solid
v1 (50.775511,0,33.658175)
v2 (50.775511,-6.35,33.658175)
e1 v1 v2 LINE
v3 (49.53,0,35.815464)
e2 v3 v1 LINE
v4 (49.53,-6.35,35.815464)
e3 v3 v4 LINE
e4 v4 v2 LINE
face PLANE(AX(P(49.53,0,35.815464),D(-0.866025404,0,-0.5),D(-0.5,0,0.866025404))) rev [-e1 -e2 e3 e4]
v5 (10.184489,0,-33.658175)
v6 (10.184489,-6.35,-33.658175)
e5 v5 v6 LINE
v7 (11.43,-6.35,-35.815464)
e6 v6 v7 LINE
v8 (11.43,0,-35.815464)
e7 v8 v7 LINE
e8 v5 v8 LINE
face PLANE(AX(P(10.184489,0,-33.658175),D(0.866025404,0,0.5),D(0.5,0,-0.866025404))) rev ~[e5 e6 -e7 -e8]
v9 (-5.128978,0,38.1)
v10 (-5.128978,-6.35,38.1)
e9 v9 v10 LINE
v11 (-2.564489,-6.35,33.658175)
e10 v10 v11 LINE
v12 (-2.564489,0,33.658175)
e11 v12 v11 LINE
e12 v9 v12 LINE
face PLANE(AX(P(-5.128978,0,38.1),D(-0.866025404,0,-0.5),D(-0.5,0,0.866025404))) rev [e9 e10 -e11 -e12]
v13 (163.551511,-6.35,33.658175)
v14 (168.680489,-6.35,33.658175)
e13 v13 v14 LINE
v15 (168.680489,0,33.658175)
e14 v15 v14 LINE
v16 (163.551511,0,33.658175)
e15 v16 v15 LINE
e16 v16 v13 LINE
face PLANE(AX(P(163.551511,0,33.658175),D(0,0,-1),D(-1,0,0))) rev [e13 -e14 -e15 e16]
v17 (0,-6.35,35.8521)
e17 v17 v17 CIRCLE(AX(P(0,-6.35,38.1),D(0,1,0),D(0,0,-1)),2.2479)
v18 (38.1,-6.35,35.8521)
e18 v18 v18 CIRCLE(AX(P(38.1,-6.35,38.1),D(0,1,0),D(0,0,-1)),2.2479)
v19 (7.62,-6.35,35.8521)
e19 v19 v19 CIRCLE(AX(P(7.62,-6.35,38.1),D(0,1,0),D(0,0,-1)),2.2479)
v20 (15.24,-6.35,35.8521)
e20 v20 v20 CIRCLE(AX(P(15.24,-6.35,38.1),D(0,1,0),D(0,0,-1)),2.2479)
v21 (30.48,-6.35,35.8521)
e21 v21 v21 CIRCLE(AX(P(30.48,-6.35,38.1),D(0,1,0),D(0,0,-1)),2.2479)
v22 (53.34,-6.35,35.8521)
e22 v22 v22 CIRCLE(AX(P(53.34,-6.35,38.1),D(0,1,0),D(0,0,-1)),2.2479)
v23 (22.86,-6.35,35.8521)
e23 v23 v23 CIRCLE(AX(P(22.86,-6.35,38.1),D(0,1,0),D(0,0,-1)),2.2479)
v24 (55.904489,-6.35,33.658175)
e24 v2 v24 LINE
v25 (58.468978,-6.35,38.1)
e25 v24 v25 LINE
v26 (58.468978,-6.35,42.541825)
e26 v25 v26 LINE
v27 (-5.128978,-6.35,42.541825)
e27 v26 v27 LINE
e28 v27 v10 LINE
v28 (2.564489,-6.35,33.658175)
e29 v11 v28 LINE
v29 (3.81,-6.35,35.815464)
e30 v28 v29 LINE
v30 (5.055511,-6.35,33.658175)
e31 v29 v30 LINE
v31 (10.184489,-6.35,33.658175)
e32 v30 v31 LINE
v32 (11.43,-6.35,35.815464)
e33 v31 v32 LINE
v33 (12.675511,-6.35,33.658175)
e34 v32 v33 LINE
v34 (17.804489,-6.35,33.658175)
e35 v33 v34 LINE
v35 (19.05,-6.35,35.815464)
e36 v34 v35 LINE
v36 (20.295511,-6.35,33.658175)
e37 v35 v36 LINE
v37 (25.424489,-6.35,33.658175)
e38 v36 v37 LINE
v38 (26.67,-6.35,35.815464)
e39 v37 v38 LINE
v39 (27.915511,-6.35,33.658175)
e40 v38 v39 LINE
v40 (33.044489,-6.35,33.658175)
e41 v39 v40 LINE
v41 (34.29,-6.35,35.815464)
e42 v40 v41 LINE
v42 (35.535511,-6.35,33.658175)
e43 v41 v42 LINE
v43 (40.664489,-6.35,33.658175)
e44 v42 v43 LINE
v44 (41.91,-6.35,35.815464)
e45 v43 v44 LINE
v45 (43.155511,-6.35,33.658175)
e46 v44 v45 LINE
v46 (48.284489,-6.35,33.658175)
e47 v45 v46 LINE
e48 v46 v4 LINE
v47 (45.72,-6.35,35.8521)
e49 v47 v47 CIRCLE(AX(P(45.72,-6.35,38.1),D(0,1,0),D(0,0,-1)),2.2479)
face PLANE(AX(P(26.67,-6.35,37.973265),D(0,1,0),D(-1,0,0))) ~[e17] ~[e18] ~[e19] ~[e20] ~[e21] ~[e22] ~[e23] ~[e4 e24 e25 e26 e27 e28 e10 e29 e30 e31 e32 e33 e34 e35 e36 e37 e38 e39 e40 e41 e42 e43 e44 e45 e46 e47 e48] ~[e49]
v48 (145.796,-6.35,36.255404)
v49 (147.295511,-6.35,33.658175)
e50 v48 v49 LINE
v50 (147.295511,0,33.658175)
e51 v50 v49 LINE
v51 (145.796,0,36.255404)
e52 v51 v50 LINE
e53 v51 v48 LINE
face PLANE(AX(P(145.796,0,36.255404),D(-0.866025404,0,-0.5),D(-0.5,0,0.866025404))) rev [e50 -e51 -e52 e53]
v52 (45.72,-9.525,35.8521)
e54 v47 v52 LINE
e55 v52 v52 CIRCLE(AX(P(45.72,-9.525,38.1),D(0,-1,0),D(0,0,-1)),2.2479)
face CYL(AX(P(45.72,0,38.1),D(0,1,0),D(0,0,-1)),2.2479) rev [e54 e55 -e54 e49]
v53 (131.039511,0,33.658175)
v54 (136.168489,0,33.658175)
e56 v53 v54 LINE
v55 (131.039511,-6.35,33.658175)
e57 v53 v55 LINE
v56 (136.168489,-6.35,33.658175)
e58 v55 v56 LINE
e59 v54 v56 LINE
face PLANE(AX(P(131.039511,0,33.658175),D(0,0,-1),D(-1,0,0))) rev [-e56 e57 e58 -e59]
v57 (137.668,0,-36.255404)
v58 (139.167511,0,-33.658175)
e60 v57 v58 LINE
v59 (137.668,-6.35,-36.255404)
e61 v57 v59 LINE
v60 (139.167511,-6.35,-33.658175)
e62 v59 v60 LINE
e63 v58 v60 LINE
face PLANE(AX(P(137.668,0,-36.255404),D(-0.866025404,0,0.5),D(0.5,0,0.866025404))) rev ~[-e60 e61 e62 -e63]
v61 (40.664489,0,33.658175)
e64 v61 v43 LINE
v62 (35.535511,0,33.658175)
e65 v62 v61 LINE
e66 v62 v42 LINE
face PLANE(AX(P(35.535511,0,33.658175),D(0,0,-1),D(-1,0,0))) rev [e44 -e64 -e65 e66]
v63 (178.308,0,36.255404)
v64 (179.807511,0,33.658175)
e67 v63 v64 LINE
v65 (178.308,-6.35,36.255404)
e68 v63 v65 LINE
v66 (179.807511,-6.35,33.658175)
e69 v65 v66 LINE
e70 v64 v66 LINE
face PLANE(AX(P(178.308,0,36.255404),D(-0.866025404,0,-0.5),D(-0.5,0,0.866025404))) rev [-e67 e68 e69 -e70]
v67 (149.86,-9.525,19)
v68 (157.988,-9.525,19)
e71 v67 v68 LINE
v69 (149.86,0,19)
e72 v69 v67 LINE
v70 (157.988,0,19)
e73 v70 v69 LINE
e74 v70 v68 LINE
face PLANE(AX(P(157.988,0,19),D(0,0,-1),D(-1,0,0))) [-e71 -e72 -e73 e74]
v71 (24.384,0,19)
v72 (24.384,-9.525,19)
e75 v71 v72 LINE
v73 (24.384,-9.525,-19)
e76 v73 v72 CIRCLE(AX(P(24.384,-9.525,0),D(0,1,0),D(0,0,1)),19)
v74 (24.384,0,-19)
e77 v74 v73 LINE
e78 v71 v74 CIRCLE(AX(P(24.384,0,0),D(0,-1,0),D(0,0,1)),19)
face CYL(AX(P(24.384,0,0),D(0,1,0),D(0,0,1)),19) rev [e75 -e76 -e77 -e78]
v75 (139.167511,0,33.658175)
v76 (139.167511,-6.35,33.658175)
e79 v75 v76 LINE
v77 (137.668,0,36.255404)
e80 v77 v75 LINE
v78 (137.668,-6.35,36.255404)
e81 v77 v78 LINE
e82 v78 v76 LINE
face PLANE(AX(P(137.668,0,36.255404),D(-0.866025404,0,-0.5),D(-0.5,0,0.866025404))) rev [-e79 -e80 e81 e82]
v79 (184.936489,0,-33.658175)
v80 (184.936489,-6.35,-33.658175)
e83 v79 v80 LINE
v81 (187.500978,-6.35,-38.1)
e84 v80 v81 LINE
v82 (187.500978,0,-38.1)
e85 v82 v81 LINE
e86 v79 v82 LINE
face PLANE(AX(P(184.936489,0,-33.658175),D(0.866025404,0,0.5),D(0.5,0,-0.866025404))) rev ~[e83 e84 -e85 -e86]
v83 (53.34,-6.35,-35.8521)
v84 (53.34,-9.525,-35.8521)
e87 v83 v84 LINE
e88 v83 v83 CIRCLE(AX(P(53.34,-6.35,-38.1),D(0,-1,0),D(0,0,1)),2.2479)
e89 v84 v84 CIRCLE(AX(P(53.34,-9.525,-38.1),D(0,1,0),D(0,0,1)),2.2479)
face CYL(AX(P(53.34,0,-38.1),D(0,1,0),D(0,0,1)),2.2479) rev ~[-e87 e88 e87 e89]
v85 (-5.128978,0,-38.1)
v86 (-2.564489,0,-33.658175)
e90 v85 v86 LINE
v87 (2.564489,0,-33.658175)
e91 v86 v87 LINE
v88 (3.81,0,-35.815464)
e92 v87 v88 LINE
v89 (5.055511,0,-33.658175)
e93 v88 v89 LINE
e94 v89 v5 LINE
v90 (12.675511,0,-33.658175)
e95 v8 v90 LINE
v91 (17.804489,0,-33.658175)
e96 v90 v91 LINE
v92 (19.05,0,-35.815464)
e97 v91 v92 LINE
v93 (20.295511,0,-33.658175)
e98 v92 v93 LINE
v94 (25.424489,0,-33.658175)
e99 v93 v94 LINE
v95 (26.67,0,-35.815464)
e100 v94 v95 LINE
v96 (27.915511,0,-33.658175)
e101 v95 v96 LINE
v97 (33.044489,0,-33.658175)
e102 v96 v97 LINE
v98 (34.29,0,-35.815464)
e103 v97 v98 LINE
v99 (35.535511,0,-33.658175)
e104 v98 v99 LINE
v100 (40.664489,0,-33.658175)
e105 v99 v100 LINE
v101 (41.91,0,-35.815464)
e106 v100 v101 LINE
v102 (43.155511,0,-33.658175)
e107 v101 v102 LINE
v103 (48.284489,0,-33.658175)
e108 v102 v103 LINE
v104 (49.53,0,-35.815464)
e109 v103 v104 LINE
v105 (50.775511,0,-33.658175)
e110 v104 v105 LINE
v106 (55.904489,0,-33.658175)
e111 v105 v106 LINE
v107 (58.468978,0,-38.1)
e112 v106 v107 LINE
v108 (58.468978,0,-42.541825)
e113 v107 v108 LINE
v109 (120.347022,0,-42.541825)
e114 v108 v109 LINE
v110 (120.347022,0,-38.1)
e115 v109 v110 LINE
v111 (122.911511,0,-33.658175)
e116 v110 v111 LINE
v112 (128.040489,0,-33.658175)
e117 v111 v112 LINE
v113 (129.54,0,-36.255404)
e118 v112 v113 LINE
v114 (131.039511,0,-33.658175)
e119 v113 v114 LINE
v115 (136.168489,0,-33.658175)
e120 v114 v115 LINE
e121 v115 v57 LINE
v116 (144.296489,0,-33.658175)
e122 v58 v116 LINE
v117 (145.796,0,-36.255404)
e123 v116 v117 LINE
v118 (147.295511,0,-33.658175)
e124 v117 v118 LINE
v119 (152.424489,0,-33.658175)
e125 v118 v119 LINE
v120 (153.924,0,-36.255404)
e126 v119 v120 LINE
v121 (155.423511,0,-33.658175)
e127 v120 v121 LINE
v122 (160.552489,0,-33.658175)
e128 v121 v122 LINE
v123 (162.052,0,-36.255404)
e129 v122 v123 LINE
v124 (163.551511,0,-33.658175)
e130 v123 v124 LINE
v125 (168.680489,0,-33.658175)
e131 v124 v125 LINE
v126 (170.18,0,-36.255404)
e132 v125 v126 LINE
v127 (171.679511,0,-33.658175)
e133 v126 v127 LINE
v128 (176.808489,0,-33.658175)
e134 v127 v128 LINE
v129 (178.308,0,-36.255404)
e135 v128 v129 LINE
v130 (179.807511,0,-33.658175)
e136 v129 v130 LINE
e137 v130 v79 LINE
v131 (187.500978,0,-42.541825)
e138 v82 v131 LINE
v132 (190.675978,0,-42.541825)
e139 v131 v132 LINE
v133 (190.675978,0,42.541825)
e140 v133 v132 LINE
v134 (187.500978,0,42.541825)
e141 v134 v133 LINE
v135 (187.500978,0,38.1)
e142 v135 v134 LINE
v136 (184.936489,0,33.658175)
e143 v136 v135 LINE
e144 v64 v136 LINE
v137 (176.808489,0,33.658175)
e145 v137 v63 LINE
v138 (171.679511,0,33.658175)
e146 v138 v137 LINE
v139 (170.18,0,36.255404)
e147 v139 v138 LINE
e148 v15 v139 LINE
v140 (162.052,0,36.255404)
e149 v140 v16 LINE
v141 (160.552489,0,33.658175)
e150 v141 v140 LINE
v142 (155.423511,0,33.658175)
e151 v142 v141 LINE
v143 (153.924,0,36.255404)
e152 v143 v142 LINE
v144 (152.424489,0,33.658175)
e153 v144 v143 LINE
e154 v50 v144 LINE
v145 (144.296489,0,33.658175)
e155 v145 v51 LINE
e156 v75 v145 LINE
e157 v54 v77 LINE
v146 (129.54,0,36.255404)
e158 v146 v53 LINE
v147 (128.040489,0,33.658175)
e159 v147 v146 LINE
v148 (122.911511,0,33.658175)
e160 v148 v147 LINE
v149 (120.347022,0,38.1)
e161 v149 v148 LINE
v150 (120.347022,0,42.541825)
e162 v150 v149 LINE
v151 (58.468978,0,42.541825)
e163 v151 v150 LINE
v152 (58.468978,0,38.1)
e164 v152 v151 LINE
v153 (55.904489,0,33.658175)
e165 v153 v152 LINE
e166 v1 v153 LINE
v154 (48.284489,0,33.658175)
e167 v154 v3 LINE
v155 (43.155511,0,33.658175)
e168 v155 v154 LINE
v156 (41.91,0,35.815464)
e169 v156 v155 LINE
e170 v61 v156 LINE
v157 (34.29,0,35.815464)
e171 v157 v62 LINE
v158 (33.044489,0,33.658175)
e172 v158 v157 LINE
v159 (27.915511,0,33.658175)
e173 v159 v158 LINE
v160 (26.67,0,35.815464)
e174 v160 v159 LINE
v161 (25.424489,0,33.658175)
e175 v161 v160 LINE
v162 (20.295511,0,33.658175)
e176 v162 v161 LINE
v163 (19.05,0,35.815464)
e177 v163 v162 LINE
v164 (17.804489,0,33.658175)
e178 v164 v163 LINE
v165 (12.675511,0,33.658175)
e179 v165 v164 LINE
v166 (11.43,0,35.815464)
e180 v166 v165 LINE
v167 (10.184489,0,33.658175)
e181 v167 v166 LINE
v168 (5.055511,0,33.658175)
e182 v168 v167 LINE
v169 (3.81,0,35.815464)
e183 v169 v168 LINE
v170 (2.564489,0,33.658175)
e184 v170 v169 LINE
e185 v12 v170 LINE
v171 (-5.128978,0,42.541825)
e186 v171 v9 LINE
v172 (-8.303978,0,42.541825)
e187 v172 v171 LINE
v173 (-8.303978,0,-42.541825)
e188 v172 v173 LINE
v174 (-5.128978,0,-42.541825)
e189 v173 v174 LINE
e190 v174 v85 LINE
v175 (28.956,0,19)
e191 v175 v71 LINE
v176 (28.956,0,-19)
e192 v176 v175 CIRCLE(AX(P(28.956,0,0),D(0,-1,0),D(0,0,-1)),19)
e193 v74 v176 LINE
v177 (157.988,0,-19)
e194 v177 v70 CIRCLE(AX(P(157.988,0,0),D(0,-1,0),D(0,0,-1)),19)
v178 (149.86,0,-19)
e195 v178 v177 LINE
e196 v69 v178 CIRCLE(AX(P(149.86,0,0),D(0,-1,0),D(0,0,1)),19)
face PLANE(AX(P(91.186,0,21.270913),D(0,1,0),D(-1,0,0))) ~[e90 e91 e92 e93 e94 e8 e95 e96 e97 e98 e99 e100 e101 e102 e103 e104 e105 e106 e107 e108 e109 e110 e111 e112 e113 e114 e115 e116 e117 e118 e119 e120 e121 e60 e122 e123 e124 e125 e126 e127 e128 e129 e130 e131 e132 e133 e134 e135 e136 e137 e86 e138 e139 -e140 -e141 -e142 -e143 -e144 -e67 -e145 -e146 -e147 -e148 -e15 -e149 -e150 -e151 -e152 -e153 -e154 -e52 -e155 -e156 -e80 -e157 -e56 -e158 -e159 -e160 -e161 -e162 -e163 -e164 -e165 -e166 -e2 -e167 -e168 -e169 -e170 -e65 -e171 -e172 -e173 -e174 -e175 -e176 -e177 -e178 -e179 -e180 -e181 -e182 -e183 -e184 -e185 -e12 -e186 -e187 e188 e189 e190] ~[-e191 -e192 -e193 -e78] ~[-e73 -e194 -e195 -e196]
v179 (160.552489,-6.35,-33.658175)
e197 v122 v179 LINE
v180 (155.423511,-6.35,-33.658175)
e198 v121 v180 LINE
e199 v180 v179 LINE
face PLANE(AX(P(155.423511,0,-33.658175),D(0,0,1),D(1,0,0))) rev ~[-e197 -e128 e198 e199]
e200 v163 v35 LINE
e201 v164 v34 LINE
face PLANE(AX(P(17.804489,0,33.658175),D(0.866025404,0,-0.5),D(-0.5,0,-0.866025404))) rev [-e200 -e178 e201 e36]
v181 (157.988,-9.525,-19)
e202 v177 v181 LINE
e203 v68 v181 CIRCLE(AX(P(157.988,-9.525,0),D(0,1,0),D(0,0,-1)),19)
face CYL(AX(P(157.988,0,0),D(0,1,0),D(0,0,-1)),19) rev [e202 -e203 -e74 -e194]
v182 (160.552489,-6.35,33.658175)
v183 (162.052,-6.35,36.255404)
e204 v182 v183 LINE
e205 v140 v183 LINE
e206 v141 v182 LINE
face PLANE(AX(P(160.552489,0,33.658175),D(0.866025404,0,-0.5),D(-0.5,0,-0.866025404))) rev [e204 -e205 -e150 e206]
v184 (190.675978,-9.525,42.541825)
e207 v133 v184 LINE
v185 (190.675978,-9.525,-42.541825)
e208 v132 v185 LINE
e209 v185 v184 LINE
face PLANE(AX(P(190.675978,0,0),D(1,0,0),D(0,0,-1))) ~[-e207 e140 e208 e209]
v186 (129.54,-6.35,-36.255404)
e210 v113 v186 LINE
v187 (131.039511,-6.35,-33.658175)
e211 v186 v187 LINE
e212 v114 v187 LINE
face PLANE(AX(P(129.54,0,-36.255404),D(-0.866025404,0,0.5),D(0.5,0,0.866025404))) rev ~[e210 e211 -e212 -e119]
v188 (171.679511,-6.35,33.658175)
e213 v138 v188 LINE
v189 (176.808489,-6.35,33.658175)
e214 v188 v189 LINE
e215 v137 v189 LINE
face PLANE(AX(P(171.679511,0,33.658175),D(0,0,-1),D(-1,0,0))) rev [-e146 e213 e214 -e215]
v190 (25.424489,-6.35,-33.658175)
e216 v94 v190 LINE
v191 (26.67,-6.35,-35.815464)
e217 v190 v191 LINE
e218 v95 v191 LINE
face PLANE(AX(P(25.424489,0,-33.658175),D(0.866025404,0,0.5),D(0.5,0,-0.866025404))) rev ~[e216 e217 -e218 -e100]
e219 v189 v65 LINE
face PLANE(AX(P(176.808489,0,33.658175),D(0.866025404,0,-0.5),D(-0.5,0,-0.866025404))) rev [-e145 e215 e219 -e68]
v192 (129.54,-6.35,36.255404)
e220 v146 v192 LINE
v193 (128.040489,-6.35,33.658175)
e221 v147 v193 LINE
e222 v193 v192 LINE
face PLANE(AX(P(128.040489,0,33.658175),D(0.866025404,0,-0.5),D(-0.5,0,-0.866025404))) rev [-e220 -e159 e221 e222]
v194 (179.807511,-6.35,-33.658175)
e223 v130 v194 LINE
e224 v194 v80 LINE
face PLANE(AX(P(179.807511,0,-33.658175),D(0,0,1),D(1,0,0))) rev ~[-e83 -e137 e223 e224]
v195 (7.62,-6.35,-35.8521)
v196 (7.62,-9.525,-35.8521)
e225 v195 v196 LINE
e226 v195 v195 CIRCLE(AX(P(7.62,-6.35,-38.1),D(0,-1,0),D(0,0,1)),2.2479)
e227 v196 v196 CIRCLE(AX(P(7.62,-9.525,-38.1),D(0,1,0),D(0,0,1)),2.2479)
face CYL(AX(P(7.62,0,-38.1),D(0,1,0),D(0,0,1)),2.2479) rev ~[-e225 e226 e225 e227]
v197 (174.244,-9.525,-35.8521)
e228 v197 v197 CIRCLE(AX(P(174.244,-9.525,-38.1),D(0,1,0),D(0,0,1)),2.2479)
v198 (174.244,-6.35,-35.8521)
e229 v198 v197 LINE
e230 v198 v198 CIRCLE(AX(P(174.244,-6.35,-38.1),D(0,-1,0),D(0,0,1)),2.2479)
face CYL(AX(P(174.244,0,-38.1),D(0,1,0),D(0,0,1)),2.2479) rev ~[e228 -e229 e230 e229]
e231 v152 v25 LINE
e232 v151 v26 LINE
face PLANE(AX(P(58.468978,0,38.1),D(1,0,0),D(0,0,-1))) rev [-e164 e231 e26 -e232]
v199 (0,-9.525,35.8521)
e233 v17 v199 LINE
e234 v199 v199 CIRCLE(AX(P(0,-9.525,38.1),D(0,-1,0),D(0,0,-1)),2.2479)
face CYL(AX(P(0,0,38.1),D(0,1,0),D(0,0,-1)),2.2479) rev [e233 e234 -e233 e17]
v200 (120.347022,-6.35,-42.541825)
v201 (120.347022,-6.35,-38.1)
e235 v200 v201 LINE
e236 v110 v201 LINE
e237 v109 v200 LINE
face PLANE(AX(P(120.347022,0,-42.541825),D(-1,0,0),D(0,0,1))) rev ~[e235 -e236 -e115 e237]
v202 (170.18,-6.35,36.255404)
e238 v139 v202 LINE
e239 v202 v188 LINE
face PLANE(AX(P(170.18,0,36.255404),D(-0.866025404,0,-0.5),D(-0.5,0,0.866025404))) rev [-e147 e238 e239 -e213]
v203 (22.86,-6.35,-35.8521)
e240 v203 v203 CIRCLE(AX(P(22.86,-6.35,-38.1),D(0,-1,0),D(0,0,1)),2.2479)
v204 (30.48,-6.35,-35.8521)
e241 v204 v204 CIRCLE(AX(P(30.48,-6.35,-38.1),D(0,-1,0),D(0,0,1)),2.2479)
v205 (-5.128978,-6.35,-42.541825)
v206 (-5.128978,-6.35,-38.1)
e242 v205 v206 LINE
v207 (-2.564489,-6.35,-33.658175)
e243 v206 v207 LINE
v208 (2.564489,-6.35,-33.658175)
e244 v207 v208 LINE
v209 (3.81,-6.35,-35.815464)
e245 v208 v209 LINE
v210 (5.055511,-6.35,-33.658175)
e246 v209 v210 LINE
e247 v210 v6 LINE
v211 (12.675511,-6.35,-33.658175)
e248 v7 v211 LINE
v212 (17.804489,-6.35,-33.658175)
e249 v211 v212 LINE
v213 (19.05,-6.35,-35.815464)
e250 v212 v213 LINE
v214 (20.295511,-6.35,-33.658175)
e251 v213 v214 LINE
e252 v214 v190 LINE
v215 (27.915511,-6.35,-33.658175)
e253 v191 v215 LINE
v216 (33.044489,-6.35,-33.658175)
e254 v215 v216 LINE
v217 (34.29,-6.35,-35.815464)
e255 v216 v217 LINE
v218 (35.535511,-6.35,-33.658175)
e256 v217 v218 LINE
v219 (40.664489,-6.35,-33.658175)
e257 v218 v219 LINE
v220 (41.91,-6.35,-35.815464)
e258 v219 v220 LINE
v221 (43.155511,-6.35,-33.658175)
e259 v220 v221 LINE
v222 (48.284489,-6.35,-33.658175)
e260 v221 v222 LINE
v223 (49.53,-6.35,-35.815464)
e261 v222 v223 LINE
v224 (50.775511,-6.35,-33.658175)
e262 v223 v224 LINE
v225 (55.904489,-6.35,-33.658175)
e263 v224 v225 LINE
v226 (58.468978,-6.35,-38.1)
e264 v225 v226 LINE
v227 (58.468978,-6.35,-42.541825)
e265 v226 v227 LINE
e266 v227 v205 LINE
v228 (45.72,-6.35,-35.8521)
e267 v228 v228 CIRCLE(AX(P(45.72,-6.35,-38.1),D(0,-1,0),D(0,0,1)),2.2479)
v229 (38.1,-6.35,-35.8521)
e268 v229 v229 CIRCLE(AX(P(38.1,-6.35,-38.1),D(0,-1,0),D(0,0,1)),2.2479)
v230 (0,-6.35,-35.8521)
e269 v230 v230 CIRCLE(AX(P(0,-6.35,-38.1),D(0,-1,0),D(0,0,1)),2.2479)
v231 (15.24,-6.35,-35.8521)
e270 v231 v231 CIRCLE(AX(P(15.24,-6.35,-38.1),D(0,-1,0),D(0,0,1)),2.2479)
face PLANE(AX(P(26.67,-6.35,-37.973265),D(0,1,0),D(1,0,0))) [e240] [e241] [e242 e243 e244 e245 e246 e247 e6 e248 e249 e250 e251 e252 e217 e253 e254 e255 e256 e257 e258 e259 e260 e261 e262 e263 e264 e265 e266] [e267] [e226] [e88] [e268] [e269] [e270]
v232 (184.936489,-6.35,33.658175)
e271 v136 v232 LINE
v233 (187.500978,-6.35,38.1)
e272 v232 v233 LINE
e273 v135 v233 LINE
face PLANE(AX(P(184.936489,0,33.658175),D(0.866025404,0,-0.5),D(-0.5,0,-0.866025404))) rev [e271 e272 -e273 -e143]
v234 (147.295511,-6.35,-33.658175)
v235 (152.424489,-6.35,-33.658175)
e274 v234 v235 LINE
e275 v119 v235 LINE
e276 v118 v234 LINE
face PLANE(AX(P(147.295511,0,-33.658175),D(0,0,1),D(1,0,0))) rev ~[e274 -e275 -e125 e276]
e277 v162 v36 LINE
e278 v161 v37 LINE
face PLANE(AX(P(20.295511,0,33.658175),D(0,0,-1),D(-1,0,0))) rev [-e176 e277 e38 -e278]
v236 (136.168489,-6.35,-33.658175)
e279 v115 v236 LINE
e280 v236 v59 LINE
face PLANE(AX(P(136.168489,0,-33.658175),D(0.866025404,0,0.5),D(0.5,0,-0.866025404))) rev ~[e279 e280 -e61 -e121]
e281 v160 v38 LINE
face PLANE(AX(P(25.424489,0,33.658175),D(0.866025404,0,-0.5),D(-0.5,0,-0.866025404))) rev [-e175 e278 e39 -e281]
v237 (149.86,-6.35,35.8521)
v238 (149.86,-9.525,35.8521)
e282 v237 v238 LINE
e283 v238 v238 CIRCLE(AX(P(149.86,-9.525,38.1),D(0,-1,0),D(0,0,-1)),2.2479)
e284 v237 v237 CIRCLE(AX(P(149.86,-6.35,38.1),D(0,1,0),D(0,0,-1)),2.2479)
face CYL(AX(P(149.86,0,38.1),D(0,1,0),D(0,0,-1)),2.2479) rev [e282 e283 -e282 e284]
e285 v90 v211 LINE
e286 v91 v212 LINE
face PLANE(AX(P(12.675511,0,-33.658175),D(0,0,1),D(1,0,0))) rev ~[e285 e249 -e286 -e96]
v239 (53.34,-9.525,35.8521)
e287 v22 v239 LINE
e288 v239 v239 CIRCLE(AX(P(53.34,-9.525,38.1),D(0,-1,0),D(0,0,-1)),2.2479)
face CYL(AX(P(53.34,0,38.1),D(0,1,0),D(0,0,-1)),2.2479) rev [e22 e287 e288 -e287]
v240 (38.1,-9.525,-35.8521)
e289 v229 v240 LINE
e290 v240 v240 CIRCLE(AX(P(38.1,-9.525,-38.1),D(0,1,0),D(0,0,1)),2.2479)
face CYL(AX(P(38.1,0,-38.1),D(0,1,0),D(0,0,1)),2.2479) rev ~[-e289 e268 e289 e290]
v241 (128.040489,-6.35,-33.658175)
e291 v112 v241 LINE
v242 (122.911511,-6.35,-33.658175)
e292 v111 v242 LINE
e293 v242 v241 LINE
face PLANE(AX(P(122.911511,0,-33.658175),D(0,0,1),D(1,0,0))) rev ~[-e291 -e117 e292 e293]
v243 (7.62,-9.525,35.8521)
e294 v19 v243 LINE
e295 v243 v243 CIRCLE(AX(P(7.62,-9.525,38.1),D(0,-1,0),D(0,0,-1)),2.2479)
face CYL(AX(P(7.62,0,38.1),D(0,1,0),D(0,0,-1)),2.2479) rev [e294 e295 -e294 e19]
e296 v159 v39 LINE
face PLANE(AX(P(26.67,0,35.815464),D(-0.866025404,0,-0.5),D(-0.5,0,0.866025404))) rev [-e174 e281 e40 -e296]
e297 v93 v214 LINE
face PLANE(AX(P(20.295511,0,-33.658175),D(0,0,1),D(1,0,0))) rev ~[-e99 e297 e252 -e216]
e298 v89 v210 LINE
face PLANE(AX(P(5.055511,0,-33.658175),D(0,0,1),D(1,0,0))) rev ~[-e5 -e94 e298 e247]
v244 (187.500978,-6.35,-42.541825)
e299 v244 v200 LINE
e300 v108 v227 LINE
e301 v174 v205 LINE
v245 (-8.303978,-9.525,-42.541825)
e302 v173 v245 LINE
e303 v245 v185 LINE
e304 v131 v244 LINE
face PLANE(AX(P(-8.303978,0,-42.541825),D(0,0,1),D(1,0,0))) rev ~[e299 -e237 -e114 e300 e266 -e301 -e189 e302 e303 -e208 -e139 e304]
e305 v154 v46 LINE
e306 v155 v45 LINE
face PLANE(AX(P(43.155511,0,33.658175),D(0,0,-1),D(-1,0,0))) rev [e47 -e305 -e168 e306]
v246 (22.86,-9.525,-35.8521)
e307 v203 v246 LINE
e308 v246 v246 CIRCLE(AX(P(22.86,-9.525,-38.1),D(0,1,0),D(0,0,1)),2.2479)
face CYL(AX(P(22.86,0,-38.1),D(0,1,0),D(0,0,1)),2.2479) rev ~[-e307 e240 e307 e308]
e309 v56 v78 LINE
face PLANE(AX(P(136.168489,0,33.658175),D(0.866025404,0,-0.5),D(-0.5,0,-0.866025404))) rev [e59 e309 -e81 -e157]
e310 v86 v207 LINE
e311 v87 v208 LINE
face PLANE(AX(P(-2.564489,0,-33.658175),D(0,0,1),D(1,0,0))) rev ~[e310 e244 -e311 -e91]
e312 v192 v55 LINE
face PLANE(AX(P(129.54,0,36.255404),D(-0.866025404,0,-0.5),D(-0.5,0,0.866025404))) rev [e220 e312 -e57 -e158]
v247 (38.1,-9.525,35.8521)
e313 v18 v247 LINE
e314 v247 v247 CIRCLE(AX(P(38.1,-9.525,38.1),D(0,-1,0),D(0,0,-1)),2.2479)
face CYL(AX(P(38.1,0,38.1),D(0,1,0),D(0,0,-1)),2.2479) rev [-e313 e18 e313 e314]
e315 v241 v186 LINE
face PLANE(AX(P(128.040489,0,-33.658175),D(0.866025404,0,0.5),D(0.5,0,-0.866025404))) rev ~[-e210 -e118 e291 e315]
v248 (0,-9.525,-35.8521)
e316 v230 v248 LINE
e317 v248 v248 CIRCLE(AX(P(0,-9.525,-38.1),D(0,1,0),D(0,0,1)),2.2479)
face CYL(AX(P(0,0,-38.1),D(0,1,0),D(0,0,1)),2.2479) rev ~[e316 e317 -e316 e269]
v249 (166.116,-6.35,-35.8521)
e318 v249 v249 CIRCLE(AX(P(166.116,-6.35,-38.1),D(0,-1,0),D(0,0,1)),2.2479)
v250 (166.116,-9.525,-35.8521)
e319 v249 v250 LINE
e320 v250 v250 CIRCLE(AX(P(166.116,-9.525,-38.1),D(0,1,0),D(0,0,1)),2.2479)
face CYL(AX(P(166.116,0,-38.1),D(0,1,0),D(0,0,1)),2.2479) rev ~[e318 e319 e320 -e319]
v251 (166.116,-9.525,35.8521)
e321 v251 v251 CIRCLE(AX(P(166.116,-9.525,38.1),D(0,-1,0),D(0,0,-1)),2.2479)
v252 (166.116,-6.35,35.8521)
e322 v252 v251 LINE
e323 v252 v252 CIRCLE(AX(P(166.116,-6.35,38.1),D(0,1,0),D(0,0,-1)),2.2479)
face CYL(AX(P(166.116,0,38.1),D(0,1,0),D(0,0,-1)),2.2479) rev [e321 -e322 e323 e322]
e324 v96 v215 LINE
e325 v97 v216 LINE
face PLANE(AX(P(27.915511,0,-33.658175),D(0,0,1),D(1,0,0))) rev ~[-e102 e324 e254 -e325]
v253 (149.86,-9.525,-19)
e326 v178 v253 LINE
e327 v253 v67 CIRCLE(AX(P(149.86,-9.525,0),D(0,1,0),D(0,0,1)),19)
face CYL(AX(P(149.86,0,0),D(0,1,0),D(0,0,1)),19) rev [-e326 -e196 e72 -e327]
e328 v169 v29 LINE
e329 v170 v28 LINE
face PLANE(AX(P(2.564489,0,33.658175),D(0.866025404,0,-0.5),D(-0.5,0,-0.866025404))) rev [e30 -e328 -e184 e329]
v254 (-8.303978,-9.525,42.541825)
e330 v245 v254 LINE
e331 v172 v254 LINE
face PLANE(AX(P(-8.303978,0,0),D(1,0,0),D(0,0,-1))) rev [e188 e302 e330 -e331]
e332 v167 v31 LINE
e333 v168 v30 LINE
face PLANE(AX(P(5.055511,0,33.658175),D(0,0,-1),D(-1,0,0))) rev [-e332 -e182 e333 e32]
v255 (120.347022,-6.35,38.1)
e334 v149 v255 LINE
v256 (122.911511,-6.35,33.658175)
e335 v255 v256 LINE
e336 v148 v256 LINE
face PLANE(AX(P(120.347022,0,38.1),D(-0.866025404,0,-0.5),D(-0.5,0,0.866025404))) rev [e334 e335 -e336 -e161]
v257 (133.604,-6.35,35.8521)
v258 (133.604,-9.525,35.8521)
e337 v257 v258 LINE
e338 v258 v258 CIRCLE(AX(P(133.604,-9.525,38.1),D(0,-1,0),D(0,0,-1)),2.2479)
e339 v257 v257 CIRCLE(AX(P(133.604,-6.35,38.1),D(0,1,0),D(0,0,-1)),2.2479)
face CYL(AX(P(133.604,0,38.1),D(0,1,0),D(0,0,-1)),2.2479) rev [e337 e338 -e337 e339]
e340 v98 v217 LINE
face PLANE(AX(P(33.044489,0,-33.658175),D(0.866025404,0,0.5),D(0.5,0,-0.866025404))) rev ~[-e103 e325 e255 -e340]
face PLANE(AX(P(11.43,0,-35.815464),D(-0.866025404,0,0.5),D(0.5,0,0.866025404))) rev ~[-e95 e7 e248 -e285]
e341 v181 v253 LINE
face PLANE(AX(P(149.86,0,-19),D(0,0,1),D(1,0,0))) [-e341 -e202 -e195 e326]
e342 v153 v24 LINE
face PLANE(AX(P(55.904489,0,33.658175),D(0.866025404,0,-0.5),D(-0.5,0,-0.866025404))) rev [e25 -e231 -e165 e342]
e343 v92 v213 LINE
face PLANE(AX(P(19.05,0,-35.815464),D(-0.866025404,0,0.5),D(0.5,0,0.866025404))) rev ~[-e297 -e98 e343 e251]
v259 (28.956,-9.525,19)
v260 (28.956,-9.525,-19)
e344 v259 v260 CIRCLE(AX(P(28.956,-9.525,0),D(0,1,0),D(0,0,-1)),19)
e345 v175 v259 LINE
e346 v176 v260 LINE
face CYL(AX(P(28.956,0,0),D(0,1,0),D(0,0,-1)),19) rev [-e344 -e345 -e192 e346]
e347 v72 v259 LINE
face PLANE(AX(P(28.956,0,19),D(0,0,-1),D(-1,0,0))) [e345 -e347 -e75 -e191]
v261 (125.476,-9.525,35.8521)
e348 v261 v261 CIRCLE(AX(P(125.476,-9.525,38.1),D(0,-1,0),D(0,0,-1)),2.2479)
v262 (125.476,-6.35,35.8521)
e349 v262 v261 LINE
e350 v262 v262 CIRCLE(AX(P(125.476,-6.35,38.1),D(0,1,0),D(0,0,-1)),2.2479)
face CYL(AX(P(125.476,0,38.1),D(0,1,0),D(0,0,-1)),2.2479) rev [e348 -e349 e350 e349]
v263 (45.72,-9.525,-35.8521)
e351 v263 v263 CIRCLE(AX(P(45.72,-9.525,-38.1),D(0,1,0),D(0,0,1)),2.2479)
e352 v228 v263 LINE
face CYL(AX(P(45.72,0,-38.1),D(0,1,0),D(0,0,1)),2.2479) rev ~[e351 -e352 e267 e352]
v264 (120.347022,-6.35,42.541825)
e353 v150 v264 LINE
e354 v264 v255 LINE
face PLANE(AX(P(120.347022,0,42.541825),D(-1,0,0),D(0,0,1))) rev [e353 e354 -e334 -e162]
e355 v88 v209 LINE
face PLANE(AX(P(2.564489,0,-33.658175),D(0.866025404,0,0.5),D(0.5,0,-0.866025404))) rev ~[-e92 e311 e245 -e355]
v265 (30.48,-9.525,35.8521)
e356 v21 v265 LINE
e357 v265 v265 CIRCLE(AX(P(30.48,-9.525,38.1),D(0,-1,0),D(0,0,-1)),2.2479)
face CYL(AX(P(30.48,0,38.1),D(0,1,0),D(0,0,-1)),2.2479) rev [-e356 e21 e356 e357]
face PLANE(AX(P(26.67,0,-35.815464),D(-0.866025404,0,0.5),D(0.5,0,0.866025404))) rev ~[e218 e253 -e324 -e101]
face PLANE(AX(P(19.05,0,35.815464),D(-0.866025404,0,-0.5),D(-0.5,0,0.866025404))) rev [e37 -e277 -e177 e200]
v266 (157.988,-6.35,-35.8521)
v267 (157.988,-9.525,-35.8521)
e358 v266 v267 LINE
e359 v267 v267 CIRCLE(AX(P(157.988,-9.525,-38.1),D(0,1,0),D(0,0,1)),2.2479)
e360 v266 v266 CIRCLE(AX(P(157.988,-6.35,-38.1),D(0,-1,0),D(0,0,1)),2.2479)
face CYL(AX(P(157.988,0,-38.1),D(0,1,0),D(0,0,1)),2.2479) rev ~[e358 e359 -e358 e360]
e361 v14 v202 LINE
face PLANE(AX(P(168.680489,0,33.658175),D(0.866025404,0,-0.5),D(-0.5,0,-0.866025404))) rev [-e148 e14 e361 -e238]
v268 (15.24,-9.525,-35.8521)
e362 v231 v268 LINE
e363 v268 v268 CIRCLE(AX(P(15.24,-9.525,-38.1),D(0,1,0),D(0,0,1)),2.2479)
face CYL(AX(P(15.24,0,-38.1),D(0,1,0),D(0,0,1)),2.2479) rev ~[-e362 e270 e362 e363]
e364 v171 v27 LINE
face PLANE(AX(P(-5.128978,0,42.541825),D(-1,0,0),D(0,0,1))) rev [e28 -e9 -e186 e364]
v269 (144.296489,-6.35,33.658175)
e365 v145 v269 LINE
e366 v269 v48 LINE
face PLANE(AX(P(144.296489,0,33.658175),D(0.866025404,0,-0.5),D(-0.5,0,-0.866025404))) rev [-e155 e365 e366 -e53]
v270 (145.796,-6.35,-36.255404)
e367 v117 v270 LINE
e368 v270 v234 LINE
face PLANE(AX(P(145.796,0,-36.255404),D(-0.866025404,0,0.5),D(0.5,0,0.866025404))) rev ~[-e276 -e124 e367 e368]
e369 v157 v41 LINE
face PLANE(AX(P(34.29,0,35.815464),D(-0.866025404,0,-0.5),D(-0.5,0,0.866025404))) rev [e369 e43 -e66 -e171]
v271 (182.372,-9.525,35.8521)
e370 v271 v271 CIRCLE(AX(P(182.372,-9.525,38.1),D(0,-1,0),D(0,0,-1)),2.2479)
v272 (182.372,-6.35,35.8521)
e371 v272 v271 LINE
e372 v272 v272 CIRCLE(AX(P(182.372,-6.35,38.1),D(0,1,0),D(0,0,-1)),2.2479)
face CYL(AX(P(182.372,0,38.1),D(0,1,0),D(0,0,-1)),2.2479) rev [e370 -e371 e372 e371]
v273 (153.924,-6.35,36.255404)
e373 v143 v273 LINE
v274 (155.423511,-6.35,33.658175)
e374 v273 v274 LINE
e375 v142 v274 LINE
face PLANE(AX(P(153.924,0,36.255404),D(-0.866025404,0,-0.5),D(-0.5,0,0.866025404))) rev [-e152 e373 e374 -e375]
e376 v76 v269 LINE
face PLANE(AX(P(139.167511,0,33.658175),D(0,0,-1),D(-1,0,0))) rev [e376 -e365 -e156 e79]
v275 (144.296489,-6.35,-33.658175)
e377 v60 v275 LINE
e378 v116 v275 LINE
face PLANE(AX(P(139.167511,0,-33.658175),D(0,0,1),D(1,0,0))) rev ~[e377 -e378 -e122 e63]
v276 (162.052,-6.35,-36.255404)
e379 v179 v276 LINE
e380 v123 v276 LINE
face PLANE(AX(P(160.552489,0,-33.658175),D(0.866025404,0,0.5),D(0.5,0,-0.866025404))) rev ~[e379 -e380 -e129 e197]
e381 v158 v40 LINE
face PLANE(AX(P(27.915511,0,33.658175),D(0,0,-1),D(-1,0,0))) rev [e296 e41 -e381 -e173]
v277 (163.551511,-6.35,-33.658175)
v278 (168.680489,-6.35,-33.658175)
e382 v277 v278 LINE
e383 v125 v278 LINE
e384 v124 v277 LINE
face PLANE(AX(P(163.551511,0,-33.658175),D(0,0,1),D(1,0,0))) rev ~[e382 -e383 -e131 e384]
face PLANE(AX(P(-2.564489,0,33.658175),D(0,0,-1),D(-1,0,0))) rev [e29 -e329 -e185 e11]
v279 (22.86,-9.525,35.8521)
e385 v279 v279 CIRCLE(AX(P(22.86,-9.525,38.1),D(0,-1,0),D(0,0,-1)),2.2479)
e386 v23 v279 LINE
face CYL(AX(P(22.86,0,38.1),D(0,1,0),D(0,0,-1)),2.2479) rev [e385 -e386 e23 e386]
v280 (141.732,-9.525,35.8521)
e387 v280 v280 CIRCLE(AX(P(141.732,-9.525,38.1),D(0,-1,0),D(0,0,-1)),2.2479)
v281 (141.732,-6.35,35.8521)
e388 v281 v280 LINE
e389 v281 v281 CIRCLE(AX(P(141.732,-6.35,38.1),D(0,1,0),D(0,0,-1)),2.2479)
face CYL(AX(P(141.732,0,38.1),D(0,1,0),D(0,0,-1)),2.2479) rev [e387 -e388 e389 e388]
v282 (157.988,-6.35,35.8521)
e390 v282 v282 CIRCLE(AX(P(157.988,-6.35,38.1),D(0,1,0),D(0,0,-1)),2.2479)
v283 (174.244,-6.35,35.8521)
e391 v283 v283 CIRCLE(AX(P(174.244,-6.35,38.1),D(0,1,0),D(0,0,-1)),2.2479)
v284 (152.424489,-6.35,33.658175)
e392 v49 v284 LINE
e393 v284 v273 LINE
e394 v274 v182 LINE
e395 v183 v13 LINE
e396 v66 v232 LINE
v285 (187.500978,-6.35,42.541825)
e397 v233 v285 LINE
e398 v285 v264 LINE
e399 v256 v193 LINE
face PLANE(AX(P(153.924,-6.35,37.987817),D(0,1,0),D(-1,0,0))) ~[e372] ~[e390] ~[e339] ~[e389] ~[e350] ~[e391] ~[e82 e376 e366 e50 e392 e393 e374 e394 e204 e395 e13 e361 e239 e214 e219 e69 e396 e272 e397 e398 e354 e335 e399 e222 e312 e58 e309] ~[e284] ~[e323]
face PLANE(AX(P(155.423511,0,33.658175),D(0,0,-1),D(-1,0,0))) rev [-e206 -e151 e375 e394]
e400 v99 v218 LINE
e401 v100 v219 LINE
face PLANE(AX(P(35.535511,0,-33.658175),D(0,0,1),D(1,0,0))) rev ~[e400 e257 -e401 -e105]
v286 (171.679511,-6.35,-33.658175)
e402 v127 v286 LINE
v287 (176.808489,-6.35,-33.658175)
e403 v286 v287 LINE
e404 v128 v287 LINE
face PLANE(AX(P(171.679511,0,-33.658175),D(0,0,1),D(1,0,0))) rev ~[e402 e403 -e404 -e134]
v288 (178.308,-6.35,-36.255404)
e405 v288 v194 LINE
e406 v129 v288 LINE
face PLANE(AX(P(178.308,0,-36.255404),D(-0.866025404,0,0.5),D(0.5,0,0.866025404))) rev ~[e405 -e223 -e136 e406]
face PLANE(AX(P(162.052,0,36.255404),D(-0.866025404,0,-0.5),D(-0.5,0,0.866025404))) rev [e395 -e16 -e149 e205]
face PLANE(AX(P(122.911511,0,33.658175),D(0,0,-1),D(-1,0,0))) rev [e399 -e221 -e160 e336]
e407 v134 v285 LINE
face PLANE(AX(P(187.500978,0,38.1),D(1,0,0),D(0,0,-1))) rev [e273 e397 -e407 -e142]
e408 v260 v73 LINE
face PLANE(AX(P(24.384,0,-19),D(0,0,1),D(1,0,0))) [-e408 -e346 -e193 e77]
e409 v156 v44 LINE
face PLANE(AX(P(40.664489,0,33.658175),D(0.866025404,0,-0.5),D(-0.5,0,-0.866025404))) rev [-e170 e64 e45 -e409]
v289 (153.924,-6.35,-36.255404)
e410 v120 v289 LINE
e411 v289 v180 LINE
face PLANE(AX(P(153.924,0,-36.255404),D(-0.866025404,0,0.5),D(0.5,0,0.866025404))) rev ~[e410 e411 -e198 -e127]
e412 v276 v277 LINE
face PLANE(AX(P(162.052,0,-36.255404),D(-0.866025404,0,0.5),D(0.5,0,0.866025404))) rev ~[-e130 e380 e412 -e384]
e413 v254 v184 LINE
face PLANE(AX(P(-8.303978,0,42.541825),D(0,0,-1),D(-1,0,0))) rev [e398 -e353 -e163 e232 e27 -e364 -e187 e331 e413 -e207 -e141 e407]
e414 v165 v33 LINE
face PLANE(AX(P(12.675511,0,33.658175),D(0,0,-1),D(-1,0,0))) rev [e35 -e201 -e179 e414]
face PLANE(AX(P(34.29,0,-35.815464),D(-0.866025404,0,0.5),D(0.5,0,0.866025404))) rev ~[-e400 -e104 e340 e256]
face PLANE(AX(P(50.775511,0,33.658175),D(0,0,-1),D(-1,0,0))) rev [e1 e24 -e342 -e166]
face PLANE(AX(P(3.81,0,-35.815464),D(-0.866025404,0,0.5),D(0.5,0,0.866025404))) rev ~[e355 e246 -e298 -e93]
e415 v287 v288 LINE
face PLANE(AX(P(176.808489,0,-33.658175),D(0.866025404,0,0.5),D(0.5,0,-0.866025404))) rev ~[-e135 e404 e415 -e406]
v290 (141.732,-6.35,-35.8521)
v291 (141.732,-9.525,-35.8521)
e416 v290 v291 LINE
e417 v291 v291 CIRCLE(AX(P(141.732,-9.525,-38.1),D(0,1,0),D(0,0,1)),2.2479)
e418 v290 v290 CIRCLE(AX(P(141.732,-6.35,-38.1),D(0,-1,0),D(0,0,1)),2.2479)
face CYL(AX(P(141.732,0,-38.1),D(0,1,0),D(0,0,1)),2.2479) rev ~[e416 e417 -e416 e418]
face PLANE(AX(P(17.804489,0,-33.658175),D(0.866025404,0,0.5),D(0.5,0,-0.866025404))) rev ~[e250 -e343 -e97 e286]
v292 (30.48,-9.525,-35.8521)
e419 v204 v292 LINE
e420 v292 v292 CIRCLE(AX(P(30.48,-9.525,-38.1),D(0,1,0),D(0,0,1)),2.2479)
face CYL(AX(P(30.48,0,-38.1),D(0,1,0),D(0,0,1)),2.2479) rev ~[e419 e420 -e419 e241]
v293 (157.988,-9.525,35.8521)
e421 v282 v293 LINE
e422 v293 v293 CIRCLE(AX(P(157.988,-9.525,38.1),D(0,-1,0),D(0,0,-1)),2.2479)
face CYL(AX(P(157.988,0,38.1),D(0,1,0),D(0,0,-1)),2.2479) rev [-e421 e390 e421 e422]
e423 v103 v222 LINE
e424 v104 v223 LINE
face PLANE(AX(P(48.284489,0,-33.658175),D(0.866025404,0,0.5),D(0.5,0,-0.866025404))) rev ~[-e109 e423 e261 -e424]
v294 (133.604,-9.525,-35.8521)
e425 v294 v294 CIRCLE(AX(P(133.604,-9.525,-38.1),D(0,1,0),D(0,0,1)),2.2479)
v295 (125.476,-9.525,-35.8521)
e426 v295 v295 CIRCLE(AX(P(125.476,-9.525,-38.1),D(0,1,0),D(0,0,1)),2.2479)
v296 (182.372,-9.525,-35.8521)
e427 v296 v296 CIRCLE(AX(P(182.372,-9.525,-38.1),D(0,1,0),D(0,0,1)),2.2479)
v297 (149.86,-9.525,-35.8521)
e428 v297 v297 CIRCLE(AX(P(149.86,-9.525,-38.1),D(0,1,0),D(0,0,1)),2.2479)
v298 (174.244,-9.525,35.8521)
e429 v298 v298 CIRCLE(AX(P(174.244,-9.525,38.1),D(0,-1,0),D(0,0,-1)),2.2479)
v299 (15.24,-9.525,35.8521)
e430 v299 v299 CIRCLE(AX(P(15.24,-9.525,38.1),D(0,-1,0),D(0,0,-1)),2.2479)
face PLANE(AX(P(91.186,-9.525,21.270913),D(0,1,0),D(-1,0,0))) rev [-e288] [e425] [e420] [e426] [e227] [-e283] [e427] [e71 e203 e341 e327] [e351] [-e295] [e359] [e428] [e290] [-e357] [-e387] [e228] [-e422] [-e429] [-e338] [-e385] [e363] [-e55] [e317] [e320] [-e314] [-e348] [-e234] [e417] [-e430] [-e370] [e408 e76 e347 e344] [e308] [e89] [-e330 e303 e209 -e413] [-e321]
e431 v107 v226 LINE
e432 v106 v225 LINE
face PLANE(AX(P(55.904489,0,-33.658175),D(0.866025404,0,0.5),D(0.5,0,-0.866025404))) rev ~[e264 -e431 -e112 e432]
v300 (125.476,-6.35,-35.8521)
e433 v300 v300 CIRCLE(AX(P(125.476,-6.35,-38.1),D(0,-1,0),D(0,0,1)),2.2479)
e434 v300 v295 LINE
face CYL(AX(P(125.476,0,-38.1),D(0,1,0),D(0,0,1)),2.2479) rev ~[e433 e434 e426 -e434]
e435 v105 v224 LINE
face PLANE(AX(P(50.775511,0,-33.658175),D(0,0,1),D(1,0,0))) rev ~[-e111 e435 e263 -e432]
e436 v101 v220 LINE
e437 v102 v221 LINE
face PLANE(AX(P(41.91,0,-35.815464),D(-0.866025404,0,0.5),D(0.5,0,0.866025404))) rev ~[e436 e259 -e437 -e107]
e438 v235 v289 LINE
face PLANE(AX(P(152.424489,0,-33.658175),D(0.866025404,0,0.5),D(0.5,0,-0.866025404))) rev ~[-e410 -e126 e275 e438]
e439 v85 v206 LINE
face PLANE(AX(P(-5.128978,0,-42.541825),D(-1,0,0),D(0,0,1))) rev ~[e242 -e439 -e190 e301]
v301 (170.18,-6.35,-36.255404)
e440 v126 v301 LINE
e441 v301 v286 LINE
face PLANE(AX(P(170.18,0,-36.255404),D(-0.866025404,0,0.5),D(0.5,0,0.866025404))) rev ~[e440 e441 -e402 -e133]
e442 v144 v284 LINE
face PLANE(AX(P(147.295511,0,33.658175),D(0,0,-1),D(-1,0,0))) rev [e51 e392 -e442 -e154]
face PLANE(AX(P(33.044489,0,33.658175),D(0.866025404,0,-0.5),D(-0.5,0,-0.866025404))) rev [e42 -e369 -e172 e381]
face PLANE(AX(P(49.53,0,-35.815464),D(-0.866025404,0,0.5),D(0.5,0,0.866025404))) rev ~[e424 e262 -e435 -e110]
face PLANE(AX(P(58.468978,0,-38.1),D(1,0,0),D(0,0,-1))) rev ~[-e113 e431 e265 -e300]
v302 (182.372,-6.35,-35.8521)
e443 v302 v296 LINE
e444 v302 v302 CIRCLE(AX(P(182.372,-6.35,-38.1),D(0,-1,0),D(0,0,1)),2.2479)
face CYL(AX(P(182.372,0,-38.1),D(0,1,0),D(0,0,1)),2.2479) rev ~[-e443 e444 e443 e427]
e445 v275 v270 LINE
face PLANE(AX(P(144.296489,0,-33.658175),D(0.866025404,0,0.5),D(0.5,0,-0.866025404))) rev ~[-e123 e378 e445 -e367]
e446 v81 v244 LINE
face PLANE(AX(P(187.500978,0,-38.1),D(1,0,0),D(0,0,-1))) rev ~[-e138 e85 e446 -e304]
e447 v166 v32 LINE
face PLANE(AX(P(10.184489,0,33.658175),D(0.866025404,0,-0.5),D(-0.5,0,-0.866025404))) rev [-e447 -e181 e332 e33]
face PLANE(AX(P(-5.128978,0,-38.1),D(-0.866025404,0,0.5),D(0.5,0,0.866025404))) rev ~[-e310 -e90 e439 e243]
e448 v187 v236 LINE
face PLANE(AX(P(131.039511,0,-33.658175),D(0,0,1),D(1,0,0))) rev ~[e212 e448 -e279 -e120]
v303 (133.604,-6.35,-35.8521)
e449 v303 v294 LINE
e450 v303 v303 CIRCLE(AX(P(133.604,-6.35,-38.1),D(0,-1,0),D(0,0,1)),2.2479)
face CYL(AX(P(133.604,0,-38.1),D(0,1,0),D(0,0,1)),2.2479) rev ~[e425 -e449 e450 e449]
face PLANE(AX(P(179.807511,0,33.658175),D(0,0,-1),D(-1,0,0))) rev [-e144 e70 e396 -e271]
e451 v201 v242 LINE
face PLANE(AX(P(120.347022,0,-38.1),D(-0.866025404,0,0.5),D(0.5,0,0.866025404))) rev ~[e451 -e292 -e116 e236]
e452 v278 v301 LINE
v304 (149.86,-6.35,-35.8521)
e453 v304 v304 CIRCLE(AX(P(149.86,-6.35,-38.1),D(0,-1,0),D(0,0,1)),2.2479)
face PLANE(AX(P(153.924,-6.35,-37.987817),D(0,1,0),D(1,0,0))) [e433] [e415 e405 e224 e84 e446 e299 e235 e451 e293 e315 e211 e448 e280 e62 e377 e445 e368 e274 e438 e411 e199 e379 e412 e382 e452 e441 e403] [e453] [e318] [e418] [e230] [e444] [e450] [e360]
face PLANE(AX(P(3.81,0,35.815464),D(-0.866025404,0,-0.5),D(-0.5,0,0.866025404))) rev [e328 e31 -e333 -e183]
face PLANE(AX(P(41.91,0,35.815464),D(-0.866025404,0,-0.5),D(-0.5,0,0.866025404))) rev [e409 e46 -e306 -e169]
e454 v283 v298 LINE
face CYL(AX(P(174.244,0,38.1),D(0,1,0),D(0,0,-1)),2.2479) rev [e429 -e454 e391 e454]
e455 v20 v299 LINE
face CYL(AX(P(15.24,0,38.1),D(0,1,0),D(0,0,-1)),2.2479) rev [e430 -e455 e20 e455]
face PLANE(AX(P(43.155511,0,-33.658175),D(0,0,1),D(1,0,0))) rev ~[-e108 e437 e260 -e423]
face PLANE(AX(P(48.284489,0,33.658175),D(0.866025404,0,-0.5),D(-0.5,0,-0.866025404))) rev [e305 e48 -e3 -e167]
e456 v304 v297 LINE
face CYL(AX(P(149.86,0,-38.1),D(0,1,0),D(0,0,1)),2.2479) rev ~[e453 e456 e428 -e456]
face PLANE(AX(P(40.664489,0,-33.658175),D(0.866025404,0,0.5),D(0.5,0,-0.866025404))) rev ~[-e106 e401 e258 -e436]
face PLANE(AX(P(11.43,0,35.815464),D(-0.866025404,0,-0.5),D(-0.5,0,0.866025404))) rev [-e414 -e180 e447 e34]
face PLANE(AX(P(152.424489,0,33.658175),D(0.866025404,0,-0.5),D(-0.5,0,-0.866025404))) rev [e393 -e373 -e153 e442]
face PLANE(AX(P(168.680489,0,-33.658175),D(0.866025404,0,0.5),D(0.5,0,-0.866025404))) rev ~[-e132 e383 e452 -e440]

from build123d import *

# Parameters (mm, degrees)
SKETCH1_W           = 198.979955438
SKETCH1_H           = 42.541825
SKETCH1_R           = 2.2479
BOSS_EXTRUDE1_DEPTH = 9.525
SKETCH1_5_R         = 2.2479
CUT_EXTRUDE1_DEPTH  = 6.35
CUT_EXTRUDE2_DEPTH  = 196.596168108


with BuildPart() as part:
    # Sketch1 → Boss-Extrude1 (new body)
    with BuildSketch(Plane(origin=(0, 0, 0), x_dir=(1, 0, 0), z_dir=(0, 1, 0))):
        with Locations((91.186, 21.2709125)):
            Rectangle(SKETCH1_W, SKETCH1_H)
        with Locations(Location((45.72, 38.1, 0), (0, 0, 270))):
            Circle(SKETCH1_R, mode=Mode.SUBTRACT)
        with Locations(Location((38.1, 38.1, 0), (0, 0, 270))):
            Circle(SKETCH1_R, mode=Mode.SUBTRACT)
        with Locations(Location((30.48, 38.1, 0), (0, 0, 270))):
            Circle(SKETCH1_R, mode=Mode.SUBTRACT)
        with Locations(Location((22.86, 38.1, 0), (0, 0, 270))):
            Circle(SKETCH1_R, mode=Mode.SUBTRACT)
        with Locations(Location((15.24, 38.1, 0), (0, 0, 270))):
            Circle(SKETCH1_R, mode=Mode.SUBTRACT)
        with Locations(Location((7.62, 38.1, 0), (0, 0, 270))):
            Circle(SKETCH1_R, mode=Mode.SUBTRACT)
        with Locations(Location((0, 38.1, 0), (0, 0, 270))):
            Circle(SKETCH1_R, mode=Mode.SUBTRACT)
        with Locations(Location((53.34, 38.1, 0), (0, 0, 270))):
            Circle(SKETCH1_R, mode=Mode.SUBTRACT)
        with Locations(Location((157.988, 38.1, 0), (0, 0, 270))):
            Circle(SKETCH1_R, mode=Mode.SUBTRACT)
        with Locations(Location((149.86, 38.1, 0), (0, 0, 270))):
            Circle(SKETCH1_R, mode=Mode.SUBTRACT)
        with Locations(Location((141.732, 38.1, 0), (0, 0, 270))):
            Circle(SKETCH1_R, mode=Mode.SUBTRACT)
        with Locations(Location((133.604, 38.1, 0), (0, 0, 270))):
            Circle(SKETCH1_R, mode=Mode.SUBTRACT)
        with Locations(Location((125.476, 38.1, 0), (0, 0, 270))):
            Circle(SKETCH1_R, mode=Mode.SUBTRACT)
        with Locations(Location((166.116, 38.1, 0), (0, 0, 270))):
            Circle(SKETCH1_R, mode=Mode.SUBTRACT)
        with Locations(Location((174.244, 38.1, 0), (0, 0, 270))):
            Circle(SKETCH1_R, mode=Mode.SUBTRACT)
        with Locations(Location((182.372, 38.1, 0), (0, 0, 270))):
            Circle(SKETCH1_R, mode=Mode.SUBTRACT)
    extrude(amount=-BOSS_EXTRUDE1_DEPTH)

    # Sketch1<5> → Cut-Extrude1 (cut)
    # profile 1 of 2: a face of its own
    with BuildSketch(Plane(origin=(0, 0, 0), x_dir=(1, 0, 0), z_dir=(0, 1, 0))):
        Polygon((-5.128977719, 38.1), (-2.564488859, 33.658175), (2.564488859, 33.658175), (3.81, 35.815463577), (5.055511141, 33.658175), (10.184488859, 33.658175), (11.43, 35.815463577), (12.675511141, 33.658175), (17.804488859, 33.658175), (19.05, 35.815463577), (20.295511141, 33.658175), (25.424488859, 33.658175), (26.67, 35.815463577), (27.915511141, 33.658175), (33.044488859, 33.658175), (34.29, 35.815463577), (35.535511141, 33.658175), (40.664488859, 33.658175), (41.91, 35.815463577), (43.155511141, 33.658175), (48.284488859, 33.658175), (49.53, 35.815463577), (50.775511141, 33.658175), (55.904488859, 33.658175), (58.468977719, 38.1), (58.468977719, 42.541825), (-5.128977719, 42.541825), align=None)
        with Locations((0, 38.1)):
            Circle(SKETCH1_5_R, mode=Mode.SUBTRACT)
        with Locations((7.62, 38.1)):
            Circle(SKETCH1_5_R, mode=Mode.SUBTRACT)
        with Locations((15.24, 38.1)):
            Circle(SKETCH1_5_R, mode=Mode.SUBTRACT)
        with Locations((22.86, 38.1)):
            Circle(SKETCH1_5_R, mode=Mode.SUBTRACT)
        with Locations((30.48, 38.1)):
            Circle(SKETCH1_5_R, mode=Mode.SUBTRACT)
        with Locations((38.1, 38.1)):
            Circle(SKETCH1_5_R, mode=Mode.SUBTRACT)
        with Locations((45.72, 38.1)):
            Circle(SKETCH1_5_R, mode=Mode.SUBTRACT)
        with Locations((53.34, 38.1)):
            Circle(SKETCH1_5_R, mode=Mode.SUBTRACT)
    # profile 2 of 2: a face of its own
    with BuildSketch(Plane(origin=(0, 0, 0), x_dir=(1, 0, 0), z_dir=(0, 1, 0))):
        Polygon((179.807511141, 33.658175), (184.936488859, 33.658175), (187.500977719, 38.1), (187.500977719, 42.541825), (120.347022281, 42.541825), (120.347022281, 38.1), (122.911511141, 33.658175), (128.040488859, 33.658175), (129.54, 36.255404482), (131.039511141, 33.658175), (136.168488859, 33.658175), (137.668, 36.255404482), (139.167511141, 33.658175), (144.296488859, 33.658175), (145.796, 36.255404482), (147.295511141, 33.658175), (152.424488859, 33.658175), (153.924, 36.255404482), (155.423511141, 33.658175), (160.552488859, 33.658175), (162.052, 36.255404482), (163.551511141, 33.658175), (168.680488859, 33.658175), (170.18, 36.255404482), (171.679511141, 33.658175), (176.808488859, 33.658175), (178.308, 36.255404482), align=None)
        with Locations((125.476, 38.1)):
            Circle(SKETCH1_5_R, mode=Mode.SUBTRACT)
        with Locations((133.604, 38.1)):
            Circle(SKETCH1_5_R, mode=Mode.SUBTRACT)
        with Locations((141.732, 38.1)):
            Circle(SKETCH1_5_R, mode=Mode.SUBTRACT)
        with Locations((149.86, 38.1)):
            Circle(SKETCH1_5_R, mode=Mode.SUBTRACT)
        with Locations((157.988, 38.1)):
            Circle(SKETCH1_5_R, mode=Mode.SUBTRACT)
        with Locations((166.116, 38.1)):
            Circle(SKETCH1_5_R, mode=Mode.SUBTRACT)
        with Locations((174.244, 38.1)):
            Circle(SKETCH1_5_R, mode=Mode.SUBTRACT)
        with Locations((182.372, 38.1)):
            Circle(SKETCH1_5_R, mode=Mode.SUBTRACT)
    extrude(amount=-CUT_EXTRUDE1_DEPTH, mode=Mode.SUBTRACT)

    # Mirror1: part across plane


with BuildPart() as part_1:
    add(part.part)
    add(part.part.mirror(Plane.XY))

    # Sketch2 → Cut-Extrude2 (cut, through all)
    with BuildSketch(Plane(origin=(0, 0, 0), x_dir=(1, 0, 0), z_dir=(0, 1, 0))):
        with BuildLine():
            Line((157.988, -19), (149.86, -19))
            ThreePointArc((149.86, -19), (130.86, 0), (149.86, 19))
            Line((149.86, 19), (157.988, 19))
            ThreePointArc((157.988, 19), (176.988, 0), (157.988, -19))
        make_face()
        with BuildLine():
            Line((28.956, -19), (24.384, -19))
            ThreePointArc((24.384, -19), (5.384, 0), (24.384, 19))
            Line((24.384, 19), (28.956, 19))
            ThreePointArc((28.956, 19), (47.956, 0), (28.956, -19))
        make_face()
    extrude(amount=-CUT_EXTRUDE2_DEPTH, mode=Mode.SUBTRACT)


solid = part_1.part
